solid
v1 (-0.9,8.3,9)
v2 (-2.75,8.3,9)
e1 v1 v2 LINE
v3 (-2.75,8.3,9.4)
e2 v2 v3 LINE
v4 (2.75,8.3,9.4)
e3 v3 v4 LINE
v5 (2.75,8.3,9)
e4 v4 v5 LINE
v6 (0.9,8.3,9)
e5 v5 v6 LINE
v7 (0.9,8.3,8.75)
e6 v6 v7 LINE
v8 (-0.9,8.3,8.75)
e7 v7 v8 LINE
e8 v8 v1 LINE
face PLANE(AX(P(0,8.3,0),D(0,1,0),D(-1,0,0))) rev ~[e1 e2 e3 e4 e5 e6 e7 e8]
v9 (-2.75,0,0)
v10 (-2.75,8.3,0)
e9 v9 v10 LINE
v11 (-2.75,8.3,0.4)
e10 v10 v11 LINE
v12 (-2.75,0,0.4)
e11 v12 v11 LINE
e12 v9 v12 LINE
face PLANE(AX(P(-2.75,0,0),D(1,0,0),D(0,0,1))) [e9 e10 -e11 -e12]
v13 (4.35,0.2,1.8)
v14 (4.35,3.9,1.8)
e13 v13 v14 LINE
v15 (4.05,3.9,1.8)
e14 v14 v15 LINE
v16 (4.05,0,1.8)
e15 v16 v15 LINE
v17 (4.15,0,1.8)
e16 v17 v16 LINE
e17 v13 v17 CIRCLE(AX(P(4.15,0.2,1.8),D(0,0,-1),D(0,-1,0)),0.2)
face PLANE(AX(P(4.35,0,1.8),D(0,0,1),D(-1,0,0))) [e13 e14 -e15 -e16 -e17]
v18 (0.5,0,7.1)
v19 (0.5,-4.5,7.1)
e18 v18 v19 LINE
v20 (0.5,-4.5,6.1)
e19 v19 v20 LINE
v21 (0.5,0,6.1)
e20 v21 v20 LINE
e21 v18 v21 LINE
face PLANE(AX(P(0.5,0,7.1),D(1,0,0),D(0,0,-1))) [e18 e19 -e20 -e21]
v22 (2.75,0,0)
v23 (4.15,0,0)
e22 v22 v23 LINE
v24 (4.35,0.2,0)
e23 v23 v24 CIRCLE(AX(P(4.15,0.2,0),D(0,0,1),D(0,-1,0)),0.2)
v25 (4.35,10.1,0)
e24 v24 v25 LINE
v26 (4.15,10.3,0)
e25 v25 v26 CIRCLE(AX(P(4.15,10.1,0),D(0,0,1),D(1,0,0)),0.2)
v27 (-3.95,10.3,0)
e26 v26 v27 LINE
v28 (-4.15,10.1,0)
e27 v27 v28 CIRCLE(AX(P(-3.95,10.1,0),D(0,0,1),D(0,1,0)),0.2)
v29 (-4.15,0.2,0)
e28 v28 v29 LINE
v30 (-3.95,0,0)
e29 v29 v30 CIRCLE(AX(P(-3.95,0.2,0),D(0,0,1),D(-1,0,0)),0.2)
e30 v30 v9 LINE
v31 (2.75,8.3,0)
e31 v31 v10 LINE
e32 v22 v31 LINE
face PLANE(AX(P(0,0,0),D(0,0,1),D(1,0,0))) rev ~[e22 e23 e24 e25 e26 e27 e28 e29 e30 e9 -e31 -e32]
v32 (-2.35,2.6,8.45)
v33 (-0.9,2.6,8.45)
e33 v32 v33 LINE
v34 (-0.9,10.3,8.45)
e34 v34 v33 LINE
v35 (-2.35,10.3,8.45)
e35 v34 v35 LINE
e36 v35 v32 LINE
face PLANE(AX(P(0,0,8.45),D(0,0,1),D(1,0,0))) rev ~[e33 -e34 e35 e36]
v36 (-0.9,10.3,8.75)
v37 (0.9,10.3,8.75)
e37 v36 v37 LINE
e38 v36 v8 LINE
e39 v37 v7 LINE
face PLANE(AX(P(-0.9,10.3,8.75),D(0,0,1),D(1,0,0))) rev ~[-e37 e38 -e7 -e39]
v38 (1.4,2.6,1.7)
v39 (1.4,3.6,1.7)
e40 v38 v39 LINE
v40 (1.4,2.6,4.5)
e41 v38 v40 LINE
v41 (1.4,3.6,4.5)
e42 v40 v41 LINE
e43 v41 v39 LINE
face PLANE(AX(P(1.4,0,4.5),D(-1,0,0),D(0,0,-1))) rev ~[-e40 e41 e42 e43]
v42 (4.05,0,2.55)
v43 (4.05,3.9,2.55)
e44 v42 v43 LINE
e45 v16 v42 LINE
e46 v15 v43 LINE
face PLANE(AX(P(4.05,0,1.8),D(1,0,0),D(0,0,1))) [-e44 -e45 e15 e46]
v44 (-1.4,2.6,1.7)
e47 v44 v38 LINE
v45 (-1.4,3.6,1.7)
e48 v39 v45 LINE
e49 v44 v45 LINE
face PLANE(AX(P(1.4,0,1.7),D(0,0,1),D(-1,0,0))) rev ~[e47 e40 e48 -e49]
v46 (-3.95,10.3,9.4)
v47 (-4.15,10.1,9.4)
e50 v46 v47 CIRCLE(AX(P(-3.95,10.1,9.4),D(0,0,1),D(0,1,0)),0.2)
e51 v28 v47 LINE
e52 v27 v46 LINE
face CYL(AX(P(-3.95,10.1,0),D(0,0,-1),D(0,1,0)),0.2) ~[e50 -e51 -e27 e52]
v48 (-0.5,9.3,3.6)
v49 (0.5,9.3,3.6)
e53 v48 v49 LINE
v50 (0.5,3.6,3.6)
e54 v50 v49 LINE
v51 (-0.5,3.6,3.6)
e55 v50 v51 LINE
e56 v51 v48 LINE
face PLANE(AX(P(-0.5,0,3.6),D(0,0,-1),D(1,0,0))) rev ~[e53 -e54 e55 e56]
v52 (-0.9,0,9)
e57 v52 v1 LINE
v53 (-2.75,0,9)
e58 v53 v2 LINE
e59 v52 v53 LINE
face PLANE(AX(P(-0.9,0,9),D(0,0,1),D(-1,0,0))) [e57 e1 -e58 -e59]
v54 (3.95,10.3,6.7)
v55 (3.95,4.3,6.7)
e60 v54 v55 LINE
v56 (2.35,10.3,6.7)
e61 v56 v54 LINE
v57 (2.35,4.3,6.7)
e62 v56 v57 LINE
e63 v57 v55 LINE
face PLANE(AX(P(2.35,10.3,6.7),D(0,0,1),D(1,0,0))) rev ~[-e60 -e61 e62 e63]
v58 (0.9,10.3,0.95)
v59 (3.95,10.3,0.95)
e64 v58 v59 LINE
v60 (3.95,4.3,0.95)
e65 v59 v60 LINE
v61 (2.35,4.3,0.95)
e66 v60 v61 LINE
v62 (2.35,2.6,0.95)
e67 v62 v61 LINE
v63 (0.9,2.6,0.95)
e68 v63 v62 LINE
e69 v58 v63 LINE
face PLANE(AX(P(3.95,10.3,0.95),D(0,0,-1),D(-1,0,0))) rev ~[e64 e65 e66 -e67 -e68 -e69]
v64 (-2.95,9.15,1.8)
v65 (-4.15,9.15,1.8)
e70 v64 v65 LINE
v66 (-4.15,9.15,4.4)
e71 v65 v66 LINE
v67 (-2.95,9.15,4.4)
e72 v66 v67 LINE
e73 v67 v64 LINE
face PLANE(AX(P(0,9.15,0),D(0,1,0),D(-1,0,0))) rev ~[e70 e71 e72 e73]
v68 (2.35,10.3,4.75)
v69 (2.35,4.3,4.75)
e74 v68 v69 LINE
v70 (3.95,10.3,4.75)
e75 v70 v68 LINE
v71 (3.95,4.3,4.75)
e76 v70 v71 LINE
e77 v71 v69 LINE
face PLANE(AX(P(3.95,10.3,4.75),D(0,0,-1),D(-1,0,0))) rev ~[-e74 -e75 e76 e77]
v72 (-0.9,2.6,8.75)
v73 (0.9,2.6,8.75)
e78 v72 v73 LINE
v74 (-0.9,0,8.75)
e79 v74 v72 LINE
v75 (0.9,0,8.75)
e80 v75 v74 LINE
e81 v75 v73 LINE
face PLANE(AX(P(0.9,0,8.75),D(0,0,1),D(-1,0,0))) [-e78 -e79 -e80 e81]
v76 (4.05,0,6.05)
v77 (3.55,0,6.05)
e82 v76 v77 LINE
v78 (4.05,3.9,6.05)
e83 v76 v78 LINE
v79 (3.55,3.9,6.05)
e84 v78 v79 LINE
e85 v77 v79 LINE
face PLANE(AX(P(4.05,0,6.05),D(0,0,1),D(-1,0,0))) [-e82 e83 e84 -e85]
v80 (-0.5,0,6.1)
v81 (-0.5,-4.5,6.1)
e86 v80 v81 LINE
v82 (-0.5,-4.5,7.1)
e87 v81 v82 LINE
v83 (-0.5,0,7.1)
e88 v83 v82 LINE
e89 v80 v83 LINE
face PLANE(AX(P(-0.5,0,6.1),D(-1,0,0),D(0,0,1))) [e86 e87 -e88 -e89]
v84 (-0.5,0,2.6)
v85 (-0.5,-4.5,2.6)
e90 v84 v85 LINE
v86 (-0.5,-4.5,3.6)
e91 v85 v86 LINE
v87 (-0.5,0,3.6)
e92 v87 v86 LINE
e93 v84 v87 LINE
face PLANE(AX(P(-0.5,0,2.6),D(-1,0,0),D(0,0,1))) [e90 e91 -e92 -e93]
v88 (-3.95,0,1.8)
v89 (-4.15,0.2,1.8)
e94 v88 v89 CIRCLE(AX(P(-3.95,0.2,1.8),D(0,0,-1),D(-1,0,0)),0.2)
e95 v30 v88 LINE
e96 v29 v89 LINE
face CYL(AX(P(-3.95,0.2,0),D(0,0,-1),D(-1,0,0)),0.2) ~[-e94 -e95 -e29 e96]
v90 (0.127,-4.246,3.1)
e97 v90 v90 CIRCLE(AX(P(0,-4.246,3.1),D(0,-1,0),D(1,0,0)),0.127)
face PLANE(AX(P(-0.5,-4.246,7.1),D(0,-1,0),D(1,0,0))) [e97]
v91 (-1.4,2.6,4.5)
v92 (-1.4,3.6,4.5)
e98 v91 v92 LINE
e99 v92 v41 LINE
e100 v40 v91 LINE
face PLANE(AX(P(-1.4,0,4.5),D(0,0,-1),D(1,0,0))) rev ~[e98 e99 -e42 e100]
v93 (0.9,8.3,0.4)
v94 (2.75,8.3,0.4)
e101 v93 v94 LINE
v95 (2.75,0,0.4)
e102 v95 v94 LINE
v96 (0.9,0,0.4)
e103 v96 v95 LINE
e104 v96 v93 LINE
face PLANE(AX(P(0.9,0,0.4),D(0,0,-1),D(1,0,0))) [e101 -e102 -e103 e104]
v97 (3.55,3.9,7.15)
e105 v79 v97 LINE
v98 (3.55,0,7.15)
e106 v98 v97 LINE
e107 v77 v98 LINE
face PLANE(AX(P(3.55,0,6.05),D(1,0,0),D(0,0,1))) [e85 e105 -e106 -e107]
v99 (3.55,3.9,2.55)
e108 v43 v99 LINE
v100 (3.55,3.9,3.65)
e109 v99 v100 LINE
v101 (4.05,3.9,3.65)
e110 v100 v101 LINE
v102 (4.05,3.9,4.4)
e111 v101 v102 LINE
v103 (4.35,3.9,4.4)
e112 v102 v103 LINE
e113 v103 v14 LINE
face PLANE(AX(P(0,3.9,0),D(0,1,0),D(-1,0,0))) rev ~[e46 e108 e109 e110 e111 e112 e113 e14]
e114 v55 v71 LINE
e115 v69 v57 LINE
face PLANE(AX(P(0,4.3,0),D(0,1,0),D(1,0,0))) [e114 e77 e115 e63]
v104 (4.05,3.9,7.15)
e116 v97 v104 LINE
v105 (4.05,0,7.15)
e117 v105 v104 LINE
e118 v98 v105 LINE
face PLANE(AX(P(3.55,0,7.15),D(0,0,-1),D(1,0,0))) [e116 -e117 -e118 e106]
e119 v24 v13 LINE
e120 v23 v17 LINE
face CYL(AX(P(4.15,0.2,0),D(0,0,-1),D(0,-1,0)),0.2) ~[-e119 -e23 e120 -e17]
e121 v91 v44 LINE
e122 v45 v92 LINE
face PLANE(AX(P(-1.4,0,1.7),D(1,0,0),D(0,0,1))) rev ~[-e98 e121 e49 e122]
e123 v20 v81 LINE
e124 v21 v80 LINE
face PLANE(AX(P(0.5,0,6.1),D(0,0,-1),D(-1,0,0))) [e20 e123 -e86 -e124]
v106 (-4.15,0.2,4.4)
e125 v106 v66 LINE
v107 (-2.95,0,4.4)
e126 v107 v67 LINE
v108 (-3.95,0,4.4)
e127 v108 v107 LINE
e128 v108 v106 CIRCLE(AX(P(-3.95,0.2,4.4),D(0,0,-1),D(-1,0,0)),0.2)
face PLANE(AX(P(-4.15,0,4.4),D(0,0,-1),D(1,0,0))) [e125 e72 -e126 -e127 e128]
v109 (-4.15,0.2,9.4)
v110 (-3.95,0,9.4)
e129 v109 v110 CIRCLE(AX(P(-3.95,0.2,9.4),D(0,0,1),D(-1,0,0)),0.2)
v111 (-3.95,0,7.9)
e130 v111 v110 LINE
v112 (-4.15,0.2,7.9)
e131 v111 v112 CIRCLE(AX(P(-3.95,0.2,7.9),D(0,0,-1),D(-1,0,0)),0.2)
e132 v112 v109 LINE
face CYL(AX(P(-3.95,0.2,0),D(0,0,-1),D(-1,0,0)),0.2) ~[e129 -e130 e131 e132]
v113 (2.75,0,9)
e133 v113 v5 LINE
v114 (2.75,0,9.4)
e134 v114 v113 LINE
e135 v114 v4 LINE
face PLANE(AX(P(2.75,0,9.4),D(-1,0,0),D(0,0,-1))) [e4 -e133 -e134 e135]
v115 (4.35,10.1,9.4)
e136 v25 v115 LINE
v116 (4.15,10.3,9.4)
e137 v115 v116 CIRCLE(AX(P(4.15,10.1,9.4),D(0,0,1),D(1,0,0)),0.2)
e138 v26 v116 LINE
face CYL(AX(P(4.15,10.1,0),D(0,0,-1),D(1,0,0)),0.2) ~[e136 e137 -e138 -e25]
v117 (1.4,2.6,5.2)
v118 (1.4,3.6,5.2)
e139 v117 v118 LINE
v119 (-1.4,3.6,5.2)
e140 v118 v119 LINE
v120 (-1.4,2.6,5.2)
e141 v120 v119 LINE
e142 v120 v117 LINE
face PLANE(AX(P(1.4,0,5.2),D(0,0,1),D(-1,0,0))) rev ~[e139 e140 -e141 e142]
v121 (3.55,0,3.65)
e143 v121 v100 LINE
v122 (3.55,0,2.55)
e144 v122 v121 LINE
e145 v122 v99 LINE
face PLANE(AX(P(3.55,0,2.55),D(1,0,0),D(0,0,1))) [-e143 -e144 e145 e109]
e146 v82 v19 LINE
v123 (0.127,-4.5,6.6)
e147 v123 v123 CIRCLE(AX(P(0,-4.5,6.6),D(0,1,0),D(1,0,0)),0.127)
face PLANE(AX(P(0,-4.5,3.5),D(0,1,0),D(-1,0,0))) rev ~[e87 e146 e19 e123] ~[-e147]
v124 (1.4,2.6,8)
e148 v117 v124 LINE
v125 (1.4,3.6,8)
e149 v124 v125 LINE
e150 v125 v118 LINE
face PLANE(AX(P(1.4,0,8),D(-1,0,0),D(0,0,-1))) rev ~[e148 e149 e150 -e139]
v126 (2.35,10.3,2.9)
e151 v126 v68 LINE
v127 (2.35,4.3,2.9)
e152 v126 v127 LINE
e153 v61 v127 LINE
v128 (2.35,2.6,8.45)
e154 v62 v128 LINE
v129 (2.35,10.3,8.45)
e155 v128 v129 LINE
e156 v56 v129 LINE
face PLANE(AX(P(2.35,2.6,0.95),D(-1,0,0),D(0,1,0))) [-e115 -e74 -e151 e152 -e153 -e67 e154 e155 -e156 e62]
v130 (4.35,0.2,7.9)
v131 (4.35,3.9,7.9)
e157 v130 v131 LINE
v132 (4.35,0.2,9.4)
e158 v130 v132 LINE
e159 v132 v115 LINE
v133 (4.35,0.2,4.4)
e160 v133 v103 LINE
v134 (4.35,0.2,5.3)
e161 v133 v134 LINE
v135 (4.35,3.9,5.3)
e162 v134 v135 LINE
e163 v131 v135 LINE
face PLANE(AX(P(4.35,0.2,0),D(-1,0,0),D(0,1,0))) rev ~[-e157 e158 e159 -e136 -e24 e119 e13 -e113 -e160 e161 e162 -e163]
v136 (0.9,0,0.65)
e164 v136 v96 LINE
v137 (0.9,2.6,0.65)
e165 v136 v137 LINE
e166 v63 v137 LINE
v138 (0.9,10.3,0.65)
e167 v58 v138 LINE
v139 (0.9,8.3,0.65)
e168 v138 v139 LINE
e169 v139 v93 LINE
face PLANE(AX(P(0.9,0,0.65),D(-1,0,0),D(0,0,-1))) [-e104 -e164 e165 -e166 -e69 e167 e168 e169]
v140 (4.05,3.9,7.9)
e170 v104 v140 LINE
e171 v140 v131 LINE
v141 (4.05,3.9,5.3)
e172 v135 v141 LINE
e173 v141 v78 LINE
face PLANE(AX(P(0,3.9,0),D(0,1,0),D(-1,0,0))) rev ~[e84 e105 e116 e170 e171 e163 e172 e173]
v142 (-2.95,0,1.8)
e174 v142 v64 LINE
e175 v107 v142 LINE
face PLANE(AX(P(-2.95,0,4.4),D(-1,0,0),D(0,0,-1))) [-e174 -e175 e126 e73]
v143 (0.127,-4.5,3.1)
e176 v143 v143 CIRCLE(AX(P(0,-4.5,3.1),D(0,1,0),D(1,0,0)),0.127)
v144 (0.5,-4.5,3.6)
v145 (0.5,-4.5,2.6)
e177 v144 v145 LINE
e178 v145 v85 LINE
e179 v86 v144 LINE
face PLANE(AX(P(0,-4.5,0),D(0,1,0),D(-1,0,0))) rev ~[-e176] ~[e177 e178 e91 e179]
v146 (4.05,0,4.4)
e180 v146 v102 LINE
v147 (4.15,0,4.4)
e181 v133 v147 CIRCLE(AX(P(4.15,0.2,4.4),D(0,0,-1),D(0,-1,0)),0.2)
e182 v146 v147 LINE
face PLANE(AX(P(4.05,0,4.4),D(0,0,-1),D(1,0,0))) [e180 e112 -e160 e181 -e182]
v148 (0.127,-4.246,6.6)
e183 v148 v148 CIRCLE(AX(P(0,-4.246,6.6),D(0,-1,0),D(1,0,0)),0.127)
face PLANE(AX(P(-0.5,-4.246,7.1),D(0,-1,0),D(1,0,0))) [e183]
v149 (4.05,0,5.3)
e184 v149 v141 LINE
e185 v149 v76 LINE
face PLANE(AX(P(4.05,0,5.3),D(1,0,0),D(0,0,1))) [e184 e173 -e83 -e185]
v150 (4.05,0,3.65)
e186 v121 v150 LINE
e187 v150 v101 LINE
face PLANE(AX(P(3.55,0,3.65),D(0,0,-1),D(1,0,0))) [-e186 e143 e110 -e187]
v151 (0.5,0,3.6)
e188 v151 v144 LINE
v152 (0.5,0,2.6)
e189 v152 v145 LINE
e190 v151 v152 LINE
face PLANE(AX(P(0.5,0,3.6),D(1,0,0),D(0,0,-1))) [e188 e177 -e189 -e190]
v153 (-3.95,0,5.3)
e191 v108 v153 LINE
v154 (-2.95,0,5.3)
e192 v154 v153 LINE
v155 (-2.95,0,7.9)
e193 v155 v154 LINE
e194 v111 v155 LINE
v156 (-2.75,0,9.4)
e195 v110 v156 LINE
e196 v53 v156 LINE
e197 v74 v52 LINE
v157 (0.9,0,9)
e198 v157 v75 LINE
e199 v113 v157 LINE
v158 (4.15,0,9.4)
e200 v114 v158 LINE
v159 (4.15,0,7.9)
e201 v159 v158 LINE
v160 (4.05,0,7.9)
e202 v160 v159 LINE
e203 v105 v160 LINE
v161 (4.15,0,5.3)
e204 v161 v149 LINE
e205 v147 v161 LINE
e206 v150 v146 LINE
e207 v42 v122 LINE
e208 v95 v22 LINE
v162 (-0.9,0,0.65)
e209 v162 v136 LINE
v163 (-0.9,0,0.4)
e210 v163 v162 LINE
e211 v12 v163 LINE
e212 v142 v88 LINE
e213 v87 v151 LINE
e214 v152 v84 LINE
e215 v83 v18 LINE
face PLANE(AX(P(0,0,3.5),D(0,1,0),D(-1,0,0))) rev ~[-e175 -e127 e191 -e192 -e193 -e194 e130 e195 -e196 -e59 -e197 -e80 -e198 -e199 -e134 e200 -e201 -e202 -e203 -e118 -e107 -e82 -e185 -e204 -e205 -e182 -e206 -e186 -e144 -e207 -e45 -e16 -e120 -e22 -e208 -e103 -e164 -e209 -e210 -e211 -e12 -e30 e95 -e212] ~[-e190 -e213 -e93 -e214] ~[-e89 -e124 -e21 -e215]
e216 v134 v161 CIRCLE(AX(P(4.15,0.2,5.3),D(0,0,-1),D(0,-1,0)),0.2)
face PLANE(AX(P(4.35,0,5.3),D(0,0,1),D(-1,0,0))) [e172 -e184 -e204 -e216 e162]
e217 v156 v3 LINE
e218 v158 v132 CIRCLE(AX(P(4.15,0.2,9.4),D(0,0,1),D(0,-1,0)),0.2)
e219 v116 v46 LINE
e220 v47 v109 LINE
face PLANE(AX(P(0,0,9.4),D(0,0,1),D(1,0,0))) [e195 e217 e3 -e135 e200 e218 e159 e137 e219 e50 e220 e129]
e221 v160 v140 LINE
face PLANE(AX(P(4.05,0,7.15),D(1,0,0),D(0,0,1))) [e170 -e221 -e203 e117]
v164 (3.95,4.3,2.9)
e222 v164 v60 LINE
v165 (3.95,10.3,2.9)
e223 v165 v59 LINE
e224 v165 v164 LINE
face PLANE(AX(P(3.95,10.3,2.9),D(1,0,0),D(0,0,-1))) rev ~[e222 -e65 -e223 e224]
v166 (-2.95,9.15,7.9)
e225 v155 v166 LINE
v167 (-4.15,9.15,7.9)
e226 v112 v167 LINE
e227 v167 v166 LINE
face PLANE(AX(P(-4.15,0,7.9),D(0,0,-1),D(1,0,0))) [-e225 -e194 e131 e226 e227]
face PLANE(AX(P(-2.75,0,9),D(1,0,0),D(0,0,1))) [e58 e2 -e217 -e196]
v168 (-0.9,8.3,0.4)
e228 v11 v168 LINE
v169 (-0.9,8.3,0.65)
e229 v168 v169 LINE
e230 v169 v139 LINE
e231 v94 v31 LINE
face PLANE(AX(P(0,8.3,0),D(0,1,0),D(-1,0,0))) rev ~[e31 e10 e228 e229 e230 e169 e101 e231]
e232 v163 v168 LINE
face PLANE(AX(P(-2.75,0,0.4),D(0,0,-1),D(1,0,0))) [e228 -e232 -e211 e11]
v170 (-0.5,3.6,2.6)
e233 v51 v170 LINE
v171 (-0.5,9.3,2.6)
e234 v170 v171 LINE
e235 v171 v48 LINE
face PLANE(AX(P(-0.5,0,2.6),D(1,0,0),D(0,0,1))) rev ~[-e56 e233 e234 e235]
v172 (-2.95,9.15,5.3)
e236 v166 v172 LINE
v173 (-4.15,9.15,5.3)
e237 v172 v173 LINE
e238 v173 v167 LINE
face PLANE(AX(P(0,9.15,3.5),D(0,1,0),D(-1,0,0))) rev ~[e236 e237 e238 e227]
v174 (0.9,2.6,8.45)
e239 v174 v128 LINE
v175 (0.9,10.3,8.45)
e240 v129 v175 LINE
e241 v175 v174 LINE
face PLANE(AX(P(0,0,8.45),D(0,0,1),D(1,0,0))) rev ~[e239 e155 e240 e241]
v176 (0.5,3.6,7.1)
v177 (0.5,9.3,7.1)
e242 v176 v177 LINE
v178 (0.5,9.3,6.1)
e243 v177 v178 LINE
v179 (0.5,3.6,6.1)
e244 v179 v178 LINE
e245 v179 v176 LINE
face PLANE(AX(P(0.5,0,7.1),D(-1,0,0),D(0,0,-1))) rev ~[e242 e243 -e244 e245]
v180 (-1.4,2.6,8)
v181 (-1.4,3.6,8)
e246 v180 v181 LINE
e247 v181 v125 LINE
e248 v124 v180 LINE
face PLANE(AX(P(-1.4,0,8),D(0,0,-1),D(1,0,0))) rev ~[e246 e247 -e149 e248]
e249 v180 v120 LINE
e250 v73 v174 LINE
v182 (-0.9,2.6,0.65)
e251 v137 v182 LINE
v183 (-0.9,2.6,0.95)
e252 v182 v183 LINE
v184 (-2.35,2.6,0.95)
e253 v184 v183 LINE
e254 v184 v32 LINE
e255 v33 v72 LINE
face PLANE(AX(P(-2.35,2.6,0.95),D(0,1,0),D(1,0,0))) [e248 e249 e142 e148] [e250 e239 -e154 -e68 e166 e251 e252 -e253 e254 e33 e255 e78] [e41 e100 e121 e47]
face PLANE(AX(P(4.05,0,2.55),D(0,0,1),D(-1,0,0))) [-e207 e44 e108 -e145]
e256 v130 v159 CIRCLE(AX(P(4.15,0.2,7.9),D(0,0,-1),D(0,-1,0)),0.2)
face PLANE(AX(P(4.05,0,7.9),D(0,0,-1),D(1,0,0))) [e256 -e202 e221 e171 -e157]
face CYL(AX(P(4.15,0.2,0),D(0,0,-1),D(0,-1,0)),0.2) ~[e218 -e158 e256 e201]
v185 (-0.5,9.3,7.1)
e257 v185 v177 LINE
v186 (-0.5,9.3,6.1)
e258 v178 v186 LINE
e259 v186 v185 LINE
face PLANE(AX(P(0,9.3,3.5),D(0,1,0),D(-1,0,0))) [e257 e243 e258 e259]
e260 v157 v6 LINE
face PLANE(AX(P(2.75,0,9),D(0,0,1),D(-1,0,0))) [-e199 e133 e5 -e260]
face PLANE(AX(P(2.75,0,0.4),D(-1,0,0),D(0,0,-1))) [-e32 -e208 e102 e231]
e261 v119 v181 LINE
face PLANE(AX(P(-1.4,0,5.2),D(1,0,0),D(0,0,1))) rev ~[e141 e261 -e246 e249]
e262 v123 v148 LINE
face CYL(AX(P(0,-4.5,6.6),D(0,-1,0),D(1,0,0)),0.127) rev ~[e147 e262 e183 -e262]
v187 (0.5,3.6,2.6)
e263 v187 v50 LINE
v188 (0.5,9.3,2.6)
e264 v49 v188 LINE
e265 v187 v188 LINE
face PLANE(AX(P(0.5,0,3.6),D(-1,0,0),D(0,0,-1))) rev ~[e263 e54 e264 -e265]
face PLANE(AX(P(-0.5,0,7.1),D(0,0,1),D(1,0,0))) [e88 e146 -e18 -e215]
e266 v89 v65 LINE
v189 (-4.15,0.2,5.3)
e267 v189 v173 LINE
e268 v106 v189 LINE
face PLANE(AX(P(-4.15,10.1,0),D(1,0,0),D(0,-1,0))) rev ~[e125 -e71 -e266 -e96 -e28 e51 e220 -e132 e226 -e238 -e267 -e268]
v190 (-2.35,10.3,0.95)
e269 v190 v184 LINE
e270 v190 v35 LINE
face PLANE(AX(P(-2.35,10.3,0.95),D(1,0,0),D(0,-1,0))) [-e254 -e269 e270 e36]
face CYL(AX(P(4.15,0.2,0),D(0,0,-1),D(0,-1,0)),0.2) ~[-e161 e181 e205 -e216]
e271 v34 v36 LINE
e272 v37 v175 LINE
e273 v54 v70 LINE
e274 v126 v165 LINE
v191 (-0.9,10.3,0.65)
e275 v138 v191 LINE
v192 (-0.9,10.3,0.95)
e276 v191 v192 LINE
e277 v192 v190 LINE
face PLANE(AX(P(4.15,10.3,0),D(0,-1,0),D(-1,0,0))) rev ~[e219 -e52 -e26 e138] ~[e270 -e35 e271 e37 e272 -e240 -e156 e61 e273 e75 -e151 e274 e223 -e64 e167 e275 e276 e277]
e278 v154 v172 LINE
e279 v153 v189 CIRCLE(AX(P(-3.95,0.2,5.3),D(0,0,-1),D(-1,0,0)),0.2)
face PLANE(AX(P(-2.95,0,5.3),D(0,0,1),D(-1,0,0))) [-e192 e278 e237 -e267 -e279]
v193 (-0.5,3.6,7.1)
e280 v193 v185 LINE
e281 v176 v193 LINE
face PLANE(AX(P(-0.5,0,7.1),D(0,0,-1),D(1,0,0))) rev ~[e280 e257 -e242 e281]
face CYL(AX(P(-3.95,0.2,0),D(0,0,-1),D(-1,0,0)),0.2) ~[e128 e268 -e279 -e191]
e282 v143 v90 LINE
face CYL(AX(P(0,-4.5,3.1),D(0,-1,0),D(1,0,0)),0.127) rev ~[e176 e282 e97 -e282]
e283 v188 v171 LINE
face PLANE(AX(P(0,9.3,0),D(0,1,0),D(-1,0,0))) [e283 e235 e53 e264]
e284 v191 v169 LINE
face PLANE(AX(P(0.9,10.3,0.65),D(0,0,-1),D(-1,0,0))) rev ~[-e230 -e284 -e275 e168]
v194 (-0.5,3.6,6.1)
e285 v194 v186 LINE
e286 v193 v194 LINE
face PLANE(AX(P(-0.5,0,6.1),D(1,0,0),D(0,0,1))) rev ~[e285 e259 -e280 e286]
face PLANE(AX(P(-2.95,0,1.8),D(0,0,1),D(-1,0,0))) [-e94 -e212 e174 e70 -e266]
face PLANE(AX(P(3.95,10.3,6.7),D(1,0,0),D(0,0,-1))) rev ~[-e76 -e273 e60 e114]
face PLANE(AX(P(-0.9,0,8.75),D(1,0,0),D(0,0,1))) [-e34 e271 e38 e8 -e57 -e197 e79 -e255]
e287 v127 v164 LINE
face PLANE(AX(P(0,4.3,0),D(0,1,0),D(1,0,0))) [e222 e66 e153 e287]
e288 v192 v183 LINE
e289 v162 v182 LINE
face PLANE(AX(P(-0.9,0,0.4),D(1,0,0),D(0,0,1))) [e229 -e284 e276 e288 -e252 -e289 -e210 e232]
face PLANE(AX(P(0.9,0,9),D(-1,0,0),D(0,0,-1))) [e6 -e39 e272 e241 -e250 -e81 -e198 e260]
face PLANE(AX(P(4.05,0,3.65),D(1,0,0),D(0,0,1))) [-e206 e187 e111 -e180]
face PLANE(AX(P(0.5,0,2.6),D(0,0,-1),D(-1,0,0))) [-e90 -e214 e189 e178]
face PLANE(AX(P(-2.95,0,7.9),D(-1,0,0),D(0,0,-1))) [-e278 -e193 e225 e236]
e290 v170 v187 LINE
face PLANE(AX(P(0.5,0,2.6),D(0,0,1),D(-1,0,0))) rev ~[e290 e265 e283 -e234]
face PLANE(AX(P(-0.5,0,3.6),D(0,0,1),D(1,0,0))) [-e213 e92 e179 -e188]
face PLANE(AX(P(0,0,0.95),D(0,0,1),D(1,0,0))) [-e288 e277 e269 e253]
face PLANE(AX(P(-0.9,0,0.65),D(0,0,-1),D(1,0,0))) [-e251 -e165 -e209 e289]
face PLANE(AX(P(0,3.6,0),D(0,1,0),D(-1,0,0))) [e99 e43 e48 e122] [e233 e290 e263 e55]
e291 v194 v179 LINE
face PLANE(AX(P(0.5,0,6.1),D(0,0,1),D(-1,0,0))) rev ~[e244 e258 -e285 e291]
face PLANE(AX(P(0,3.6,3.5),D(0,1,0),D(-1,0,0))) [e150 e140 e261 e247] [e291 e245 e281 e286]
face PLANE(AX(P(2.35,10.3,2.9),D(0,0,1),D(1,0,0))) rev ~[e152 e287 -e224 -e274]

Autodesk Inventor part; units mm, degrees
ref_plane "YZ Plane" through (0, 0, 0) normal (1, 0, 0) x (0, 1, 0)
ref_plane "XZ Plane" through (0, 0, 0) normal (0, 1, 0) x (-1, 0, 0)
ref_plane "XY Plane" through (0, 0, 0) normal (0, 0, 1) x (1, 0, 0)
sketch "Skizze_1" plane through (0, 0, 0) normal (0, 0, 1) x (1, 0, 0)
  arc A0 (-4.15, 0.2) -> (-3.95, 0) centre (-3.95, 0.2) ccw
  line L0 (-3.95, 0) -> (4.15, 0)
  arc A1 (4.15, 0) -> (4.35, 0.2) centre (4.15, 0.2) ccw
  line L1 (4.35, 0.2) -> (4.35, 10.1)
  arc A2 (4.35, 10.1) -> (4.15, 10.3) centre (4.15, 10.1) ccw
  line L2 (4.15, 10.3) -> (-3.95, 10.3)
  arc A3 (-3.95, 10.3) -> (-4.15, 10.1) centre (-3.95, 10.1) ccw
  line L3 (-4.15, 10.1) -> (-4.15, 0.2)
extrude "Extrusion1" add sketch "Skizze_1" along normal blind 9.4
sketch "Skizze_2" plane through (0, 0, 0.95) normal (0, 0, 1) x (1, 0, 0)
  line L0 (-2.35, 10.3) -> (-2.35, 2.6)
  line L1 (-2.35, 2.6) -> (2.35, 2.6)
  line L2 (2.35, 2.6) -> (2.35, 10.3)
  line L3 (2.35, 10.3) -> (-2.35, 10.3)
extrude "Extrusion2" cut sketch "Skizze_2" along normal blind 7.5
sketch "Skizze_3" plane through (0, 10.3, 0) normal (0, 1, 0) x (1, 0, 0)
  line L0 (-0.9, -0.95) -> (0.9, -0.95)
  line L1 (0.9, -0.95) -> (0.9, -0.65)
  line L2 (0.9, -0.65) -> (-0.9, -0.65)
  line L3 (-0.9, -0.65) -> (-0.9, -0.95)
extrude "Extrusion3" cut sketch "Skizze_3" against normal blind 7.7
sketch "Skizze_4" plane through (0, 10.3, 0) normal (0, 1, 0) x (1, 0, 0)
  line L0 (-0.9, -8.45) -> (-0.9, -8.75)
  line L1 (-0.9, -8.75) -> (0.9, -8.75)
  line L2 (0.9, -8.75) -> (0.9, -8.45)
  line L3 (0.9, -8.45) -> (-0.9, -8.45)
extrude "Extrusion4" cut sketch "Skizze_4" against normal blind 7.7
sketch "Skizze_5" plane through (0, 10.3, 0) normal (0, 1, 0) x (1, 0, 0)
  line L0 (2.35, -0.95) -> (2.35, -2.9)
  line L1 (2.35, -2.9) -> (3.95, -2.9)
  line L2 (3.95, -2.9) -> (3.95, -0.95)
  line L3 (3.95, -0.95) -> (2.35, -0.95)
extrude "Extrusion5" cut sketch "Skizze_5" against normal blind 6
sketch "Skizze_6" plane through (0, 10.3, 0) normal (0, 1, 0) x (1, 0, 0)
  line L0 (2.35, -6.7) -> (3.95, -6.7)
  line L1 (3.95, -6.7) -> (3.95, -4.75)
  line L2 (3.95, -4.75) -> (2.35, -4.75)
  line L3 (2.35, -4.75) -> (2.35, -6.7)
extrude "Extrusion6" cut sketch "Skizze_6" against normal blind 6
sketch "Skizze_7" plane through (0, 0, 0) normal (0, 1, 0) x (-1, 0, 0)
  line L0 (1.4, 1.7) -> (1.4, 4.5)
  line L1 (1.4, 4.5) -> (-1.4, 4.5)
  line L2 (-1.4, 4.5) -> (-1.4, 1.7)
  line L3 (-1.4, 1.7) -> (1.4, 1.7)
extrude "Extrusion7" add sketch "Skizze_7" along normal blind 3.6
pattern_linear "Rectangular Pattern1" count 2 spacing 3.5 along (0, 0, 1) of "Extrusion7"
sketch "Skizze_9" plane through (0, 0, 0) normal (0, 1, 0) x (-1, 0, 0)
  line L0 (0.5, 2.6) -> (0.5, 3.6)
  line L1 (0.5, 3.6) -> (-0.5, 3.6)
  line L2 (-0.5, 3.6) -> (-0.5, 2.6)
  line L3 (-0.5, 2.6) -> (0.5, 2.6)
extrude "Extrusion8" add sketch "Skizze_9" along normal blind 9.3
pattern_linear "Rectangular Pattern2" count 2 spacing 3.5 along (0, 0, 1) of "Extrusion8"
sketch "Skizze_11" plane through (0, 0, 0) normal (0, 1, 0) x (-1, 0, 0)
  line L0 (0.5, 2.6) -> (0.5, 3.6)
  line L1 (0.5, 3.6) -> (-0.5, 3.6)
  line L2 (-0.5, 3.6) -> (-0.5, 2.6)
  line L3 (-0.5, 2.6) -> (0.5, 2.6)
extrude "Extrusion9" add sketch "Skizze_11" against normal blind 4.5
pattern_linear "Rectangular Pattern3" count 2 spacing 3.5 along (0, 0, 1) of "Extrusion9"
sketch "Skizze_13" plane through (0, 0, 0) normal (0, 1, 0) x (-1, 0, 0)
  line L0 (2.75, 0) -> (2.75, 0.4)
  line L1 (2.75, 0.4) -> (0.9, 0.4)
  line L2 (0.9, 0.4) -> (0.9, 0.65)
  line L3 (0.9, 0.65) -> (-0.9, 0.65)
  line L4 (-0.9, 0.65) -> (-0.9, 0.4)
  line L5 (-0.9, 0.4) -> (-2.75, 0.4)
  line L6 (-2.75, 0.4) -> (-2.75, 0)
  line L7 (-2.75, 0) -> (2.75, 0)
extrude "Extrusion10" cut sketch "Skizze_13" along normal blind 8.3
sketch "Skizze_14" plane through (0, 0, 0) normal (0, 1, 0) x (-1, 0, 0)
  line L0 (2.75, 9.4) -> (-2.75, 9.4)
  line L1 (-2.75, 9.4) -> (-2.75, 9)
  line L2 (-2.75, 9) -> (-0.9, 9)
  line L3 (-0.9, 9) -> (-0.9, 8.75)
  line L4 (-0.9, 8.75) -> (0.9, 8.75)
  line L5 (0.9, 8.75) -> (0.9, 9)
  line L6 (0.9, 9) -> (2.75, 9)
  line L7 (2.75, 9) -> (2.75, 9.4)
extrude "Extrusion11" cut sketch "Skizze_14" along normal blind 8.3
sketch "Skizze_15" plane through (0, 0, 0) normal (0, 1, 0) x (-1, 0, 0)
  line L0 (4.15, 1.8) -> (4.15, 4.4)
  line L1 (4.15, 4.4) -> (2.95, 4.4)
  line L2 (2.95, 4.4) -> (2.95, 1.8)
  line L3 (2.95, 1.8) -> (4.15, 1.8)
extrude "Extrusion12" cut sketch "Skizze_15" along normal blind 9.15
pattern_linear "Rectangular Pattern4" count 2 spacing 3.5 along (0, 0, 1) of "Extrusion12"
sketch "Skizze_17" plane through (0, 0, 0) normal (0, 1, 0) x (-1, 0, 0)
  line L0 (-3.55, 2.55) -> (-3.55, 3.65)
  line L1 (-3.55, 3.65) -> (-4.05, 3.65)
  line L2 (-4.05, 3.65) -> (-4.05, 4.4)
  line L3 (-4.05, 4.4) -> (-4.35, 4.4)
  line L4 (-4.35, 4.4) -> (-4.35, 1.8)
  line L5 (-4.35, 1.8) -> (-4.05, 1.8)
  line L6 (-4.05, 1.8) -> (-4.05, 2.55)
  line L7 (-4.05, 2.55) -> (-3.55, 2.55)
extrude "Extrusion13" cut sketch "Skizze_17" along normal blind 3.9
sketch "Skizze_18" plane through (0, 0, 0) normal (0, 1, 0) x (-1, 0, 0)
  line L0 (-3.55, 6.05) -> (-3.55, 7.15)
  line L1 (-3.55, 7.15) -> (-4.05, 7.15)
  line L2 (-4.05, 7.15) -> (-4.05, 7.9)
  line L3 (-4.05, 7.9) -> (-4.35, 7.9)
  line L4 (-4.35, 7.9) -> (-4.35, 5.3)
  line L5 (-4.35, 5.3) -> (-4.05, 5.3)
  line L6 (-4.05, 5.3) -> (-4.05, 6.05)
  line L7 (-4.05, 6.05) -> (-3.55, 6.05)
extrude "Extrusion14" cut sketch "Skizze_18" along normal blind 3.9
sketch "Sketch15" plane through (-0.5, -4.5, 7.1) normal (0, -1, 0) x (1, 0, 0)
  line L0 (1, -1) -> (0, -1) projected
  line L1 (0, 0) -> (1, 0) projected
  line L2 (0, -3.5) -> (1, -3.5) projected
  line L3 (1, -4.5) -> (0, -4.5) projected
  line L4 (0, -1) -> (1, 0)
  line L5 (0, -4.5) -> (1, -3.5)
  circle A0 centre (0.5, -4) radius 0.127
  circle A1 centre (0.5, -0.5) radius 0.127
  point P0 (0.5, -7.1)
  dimension "d52" = 0.254
extrude "Extrusion15" cut sketch "Sketch15" against normal blind 0.254
properties part number "734-132"
